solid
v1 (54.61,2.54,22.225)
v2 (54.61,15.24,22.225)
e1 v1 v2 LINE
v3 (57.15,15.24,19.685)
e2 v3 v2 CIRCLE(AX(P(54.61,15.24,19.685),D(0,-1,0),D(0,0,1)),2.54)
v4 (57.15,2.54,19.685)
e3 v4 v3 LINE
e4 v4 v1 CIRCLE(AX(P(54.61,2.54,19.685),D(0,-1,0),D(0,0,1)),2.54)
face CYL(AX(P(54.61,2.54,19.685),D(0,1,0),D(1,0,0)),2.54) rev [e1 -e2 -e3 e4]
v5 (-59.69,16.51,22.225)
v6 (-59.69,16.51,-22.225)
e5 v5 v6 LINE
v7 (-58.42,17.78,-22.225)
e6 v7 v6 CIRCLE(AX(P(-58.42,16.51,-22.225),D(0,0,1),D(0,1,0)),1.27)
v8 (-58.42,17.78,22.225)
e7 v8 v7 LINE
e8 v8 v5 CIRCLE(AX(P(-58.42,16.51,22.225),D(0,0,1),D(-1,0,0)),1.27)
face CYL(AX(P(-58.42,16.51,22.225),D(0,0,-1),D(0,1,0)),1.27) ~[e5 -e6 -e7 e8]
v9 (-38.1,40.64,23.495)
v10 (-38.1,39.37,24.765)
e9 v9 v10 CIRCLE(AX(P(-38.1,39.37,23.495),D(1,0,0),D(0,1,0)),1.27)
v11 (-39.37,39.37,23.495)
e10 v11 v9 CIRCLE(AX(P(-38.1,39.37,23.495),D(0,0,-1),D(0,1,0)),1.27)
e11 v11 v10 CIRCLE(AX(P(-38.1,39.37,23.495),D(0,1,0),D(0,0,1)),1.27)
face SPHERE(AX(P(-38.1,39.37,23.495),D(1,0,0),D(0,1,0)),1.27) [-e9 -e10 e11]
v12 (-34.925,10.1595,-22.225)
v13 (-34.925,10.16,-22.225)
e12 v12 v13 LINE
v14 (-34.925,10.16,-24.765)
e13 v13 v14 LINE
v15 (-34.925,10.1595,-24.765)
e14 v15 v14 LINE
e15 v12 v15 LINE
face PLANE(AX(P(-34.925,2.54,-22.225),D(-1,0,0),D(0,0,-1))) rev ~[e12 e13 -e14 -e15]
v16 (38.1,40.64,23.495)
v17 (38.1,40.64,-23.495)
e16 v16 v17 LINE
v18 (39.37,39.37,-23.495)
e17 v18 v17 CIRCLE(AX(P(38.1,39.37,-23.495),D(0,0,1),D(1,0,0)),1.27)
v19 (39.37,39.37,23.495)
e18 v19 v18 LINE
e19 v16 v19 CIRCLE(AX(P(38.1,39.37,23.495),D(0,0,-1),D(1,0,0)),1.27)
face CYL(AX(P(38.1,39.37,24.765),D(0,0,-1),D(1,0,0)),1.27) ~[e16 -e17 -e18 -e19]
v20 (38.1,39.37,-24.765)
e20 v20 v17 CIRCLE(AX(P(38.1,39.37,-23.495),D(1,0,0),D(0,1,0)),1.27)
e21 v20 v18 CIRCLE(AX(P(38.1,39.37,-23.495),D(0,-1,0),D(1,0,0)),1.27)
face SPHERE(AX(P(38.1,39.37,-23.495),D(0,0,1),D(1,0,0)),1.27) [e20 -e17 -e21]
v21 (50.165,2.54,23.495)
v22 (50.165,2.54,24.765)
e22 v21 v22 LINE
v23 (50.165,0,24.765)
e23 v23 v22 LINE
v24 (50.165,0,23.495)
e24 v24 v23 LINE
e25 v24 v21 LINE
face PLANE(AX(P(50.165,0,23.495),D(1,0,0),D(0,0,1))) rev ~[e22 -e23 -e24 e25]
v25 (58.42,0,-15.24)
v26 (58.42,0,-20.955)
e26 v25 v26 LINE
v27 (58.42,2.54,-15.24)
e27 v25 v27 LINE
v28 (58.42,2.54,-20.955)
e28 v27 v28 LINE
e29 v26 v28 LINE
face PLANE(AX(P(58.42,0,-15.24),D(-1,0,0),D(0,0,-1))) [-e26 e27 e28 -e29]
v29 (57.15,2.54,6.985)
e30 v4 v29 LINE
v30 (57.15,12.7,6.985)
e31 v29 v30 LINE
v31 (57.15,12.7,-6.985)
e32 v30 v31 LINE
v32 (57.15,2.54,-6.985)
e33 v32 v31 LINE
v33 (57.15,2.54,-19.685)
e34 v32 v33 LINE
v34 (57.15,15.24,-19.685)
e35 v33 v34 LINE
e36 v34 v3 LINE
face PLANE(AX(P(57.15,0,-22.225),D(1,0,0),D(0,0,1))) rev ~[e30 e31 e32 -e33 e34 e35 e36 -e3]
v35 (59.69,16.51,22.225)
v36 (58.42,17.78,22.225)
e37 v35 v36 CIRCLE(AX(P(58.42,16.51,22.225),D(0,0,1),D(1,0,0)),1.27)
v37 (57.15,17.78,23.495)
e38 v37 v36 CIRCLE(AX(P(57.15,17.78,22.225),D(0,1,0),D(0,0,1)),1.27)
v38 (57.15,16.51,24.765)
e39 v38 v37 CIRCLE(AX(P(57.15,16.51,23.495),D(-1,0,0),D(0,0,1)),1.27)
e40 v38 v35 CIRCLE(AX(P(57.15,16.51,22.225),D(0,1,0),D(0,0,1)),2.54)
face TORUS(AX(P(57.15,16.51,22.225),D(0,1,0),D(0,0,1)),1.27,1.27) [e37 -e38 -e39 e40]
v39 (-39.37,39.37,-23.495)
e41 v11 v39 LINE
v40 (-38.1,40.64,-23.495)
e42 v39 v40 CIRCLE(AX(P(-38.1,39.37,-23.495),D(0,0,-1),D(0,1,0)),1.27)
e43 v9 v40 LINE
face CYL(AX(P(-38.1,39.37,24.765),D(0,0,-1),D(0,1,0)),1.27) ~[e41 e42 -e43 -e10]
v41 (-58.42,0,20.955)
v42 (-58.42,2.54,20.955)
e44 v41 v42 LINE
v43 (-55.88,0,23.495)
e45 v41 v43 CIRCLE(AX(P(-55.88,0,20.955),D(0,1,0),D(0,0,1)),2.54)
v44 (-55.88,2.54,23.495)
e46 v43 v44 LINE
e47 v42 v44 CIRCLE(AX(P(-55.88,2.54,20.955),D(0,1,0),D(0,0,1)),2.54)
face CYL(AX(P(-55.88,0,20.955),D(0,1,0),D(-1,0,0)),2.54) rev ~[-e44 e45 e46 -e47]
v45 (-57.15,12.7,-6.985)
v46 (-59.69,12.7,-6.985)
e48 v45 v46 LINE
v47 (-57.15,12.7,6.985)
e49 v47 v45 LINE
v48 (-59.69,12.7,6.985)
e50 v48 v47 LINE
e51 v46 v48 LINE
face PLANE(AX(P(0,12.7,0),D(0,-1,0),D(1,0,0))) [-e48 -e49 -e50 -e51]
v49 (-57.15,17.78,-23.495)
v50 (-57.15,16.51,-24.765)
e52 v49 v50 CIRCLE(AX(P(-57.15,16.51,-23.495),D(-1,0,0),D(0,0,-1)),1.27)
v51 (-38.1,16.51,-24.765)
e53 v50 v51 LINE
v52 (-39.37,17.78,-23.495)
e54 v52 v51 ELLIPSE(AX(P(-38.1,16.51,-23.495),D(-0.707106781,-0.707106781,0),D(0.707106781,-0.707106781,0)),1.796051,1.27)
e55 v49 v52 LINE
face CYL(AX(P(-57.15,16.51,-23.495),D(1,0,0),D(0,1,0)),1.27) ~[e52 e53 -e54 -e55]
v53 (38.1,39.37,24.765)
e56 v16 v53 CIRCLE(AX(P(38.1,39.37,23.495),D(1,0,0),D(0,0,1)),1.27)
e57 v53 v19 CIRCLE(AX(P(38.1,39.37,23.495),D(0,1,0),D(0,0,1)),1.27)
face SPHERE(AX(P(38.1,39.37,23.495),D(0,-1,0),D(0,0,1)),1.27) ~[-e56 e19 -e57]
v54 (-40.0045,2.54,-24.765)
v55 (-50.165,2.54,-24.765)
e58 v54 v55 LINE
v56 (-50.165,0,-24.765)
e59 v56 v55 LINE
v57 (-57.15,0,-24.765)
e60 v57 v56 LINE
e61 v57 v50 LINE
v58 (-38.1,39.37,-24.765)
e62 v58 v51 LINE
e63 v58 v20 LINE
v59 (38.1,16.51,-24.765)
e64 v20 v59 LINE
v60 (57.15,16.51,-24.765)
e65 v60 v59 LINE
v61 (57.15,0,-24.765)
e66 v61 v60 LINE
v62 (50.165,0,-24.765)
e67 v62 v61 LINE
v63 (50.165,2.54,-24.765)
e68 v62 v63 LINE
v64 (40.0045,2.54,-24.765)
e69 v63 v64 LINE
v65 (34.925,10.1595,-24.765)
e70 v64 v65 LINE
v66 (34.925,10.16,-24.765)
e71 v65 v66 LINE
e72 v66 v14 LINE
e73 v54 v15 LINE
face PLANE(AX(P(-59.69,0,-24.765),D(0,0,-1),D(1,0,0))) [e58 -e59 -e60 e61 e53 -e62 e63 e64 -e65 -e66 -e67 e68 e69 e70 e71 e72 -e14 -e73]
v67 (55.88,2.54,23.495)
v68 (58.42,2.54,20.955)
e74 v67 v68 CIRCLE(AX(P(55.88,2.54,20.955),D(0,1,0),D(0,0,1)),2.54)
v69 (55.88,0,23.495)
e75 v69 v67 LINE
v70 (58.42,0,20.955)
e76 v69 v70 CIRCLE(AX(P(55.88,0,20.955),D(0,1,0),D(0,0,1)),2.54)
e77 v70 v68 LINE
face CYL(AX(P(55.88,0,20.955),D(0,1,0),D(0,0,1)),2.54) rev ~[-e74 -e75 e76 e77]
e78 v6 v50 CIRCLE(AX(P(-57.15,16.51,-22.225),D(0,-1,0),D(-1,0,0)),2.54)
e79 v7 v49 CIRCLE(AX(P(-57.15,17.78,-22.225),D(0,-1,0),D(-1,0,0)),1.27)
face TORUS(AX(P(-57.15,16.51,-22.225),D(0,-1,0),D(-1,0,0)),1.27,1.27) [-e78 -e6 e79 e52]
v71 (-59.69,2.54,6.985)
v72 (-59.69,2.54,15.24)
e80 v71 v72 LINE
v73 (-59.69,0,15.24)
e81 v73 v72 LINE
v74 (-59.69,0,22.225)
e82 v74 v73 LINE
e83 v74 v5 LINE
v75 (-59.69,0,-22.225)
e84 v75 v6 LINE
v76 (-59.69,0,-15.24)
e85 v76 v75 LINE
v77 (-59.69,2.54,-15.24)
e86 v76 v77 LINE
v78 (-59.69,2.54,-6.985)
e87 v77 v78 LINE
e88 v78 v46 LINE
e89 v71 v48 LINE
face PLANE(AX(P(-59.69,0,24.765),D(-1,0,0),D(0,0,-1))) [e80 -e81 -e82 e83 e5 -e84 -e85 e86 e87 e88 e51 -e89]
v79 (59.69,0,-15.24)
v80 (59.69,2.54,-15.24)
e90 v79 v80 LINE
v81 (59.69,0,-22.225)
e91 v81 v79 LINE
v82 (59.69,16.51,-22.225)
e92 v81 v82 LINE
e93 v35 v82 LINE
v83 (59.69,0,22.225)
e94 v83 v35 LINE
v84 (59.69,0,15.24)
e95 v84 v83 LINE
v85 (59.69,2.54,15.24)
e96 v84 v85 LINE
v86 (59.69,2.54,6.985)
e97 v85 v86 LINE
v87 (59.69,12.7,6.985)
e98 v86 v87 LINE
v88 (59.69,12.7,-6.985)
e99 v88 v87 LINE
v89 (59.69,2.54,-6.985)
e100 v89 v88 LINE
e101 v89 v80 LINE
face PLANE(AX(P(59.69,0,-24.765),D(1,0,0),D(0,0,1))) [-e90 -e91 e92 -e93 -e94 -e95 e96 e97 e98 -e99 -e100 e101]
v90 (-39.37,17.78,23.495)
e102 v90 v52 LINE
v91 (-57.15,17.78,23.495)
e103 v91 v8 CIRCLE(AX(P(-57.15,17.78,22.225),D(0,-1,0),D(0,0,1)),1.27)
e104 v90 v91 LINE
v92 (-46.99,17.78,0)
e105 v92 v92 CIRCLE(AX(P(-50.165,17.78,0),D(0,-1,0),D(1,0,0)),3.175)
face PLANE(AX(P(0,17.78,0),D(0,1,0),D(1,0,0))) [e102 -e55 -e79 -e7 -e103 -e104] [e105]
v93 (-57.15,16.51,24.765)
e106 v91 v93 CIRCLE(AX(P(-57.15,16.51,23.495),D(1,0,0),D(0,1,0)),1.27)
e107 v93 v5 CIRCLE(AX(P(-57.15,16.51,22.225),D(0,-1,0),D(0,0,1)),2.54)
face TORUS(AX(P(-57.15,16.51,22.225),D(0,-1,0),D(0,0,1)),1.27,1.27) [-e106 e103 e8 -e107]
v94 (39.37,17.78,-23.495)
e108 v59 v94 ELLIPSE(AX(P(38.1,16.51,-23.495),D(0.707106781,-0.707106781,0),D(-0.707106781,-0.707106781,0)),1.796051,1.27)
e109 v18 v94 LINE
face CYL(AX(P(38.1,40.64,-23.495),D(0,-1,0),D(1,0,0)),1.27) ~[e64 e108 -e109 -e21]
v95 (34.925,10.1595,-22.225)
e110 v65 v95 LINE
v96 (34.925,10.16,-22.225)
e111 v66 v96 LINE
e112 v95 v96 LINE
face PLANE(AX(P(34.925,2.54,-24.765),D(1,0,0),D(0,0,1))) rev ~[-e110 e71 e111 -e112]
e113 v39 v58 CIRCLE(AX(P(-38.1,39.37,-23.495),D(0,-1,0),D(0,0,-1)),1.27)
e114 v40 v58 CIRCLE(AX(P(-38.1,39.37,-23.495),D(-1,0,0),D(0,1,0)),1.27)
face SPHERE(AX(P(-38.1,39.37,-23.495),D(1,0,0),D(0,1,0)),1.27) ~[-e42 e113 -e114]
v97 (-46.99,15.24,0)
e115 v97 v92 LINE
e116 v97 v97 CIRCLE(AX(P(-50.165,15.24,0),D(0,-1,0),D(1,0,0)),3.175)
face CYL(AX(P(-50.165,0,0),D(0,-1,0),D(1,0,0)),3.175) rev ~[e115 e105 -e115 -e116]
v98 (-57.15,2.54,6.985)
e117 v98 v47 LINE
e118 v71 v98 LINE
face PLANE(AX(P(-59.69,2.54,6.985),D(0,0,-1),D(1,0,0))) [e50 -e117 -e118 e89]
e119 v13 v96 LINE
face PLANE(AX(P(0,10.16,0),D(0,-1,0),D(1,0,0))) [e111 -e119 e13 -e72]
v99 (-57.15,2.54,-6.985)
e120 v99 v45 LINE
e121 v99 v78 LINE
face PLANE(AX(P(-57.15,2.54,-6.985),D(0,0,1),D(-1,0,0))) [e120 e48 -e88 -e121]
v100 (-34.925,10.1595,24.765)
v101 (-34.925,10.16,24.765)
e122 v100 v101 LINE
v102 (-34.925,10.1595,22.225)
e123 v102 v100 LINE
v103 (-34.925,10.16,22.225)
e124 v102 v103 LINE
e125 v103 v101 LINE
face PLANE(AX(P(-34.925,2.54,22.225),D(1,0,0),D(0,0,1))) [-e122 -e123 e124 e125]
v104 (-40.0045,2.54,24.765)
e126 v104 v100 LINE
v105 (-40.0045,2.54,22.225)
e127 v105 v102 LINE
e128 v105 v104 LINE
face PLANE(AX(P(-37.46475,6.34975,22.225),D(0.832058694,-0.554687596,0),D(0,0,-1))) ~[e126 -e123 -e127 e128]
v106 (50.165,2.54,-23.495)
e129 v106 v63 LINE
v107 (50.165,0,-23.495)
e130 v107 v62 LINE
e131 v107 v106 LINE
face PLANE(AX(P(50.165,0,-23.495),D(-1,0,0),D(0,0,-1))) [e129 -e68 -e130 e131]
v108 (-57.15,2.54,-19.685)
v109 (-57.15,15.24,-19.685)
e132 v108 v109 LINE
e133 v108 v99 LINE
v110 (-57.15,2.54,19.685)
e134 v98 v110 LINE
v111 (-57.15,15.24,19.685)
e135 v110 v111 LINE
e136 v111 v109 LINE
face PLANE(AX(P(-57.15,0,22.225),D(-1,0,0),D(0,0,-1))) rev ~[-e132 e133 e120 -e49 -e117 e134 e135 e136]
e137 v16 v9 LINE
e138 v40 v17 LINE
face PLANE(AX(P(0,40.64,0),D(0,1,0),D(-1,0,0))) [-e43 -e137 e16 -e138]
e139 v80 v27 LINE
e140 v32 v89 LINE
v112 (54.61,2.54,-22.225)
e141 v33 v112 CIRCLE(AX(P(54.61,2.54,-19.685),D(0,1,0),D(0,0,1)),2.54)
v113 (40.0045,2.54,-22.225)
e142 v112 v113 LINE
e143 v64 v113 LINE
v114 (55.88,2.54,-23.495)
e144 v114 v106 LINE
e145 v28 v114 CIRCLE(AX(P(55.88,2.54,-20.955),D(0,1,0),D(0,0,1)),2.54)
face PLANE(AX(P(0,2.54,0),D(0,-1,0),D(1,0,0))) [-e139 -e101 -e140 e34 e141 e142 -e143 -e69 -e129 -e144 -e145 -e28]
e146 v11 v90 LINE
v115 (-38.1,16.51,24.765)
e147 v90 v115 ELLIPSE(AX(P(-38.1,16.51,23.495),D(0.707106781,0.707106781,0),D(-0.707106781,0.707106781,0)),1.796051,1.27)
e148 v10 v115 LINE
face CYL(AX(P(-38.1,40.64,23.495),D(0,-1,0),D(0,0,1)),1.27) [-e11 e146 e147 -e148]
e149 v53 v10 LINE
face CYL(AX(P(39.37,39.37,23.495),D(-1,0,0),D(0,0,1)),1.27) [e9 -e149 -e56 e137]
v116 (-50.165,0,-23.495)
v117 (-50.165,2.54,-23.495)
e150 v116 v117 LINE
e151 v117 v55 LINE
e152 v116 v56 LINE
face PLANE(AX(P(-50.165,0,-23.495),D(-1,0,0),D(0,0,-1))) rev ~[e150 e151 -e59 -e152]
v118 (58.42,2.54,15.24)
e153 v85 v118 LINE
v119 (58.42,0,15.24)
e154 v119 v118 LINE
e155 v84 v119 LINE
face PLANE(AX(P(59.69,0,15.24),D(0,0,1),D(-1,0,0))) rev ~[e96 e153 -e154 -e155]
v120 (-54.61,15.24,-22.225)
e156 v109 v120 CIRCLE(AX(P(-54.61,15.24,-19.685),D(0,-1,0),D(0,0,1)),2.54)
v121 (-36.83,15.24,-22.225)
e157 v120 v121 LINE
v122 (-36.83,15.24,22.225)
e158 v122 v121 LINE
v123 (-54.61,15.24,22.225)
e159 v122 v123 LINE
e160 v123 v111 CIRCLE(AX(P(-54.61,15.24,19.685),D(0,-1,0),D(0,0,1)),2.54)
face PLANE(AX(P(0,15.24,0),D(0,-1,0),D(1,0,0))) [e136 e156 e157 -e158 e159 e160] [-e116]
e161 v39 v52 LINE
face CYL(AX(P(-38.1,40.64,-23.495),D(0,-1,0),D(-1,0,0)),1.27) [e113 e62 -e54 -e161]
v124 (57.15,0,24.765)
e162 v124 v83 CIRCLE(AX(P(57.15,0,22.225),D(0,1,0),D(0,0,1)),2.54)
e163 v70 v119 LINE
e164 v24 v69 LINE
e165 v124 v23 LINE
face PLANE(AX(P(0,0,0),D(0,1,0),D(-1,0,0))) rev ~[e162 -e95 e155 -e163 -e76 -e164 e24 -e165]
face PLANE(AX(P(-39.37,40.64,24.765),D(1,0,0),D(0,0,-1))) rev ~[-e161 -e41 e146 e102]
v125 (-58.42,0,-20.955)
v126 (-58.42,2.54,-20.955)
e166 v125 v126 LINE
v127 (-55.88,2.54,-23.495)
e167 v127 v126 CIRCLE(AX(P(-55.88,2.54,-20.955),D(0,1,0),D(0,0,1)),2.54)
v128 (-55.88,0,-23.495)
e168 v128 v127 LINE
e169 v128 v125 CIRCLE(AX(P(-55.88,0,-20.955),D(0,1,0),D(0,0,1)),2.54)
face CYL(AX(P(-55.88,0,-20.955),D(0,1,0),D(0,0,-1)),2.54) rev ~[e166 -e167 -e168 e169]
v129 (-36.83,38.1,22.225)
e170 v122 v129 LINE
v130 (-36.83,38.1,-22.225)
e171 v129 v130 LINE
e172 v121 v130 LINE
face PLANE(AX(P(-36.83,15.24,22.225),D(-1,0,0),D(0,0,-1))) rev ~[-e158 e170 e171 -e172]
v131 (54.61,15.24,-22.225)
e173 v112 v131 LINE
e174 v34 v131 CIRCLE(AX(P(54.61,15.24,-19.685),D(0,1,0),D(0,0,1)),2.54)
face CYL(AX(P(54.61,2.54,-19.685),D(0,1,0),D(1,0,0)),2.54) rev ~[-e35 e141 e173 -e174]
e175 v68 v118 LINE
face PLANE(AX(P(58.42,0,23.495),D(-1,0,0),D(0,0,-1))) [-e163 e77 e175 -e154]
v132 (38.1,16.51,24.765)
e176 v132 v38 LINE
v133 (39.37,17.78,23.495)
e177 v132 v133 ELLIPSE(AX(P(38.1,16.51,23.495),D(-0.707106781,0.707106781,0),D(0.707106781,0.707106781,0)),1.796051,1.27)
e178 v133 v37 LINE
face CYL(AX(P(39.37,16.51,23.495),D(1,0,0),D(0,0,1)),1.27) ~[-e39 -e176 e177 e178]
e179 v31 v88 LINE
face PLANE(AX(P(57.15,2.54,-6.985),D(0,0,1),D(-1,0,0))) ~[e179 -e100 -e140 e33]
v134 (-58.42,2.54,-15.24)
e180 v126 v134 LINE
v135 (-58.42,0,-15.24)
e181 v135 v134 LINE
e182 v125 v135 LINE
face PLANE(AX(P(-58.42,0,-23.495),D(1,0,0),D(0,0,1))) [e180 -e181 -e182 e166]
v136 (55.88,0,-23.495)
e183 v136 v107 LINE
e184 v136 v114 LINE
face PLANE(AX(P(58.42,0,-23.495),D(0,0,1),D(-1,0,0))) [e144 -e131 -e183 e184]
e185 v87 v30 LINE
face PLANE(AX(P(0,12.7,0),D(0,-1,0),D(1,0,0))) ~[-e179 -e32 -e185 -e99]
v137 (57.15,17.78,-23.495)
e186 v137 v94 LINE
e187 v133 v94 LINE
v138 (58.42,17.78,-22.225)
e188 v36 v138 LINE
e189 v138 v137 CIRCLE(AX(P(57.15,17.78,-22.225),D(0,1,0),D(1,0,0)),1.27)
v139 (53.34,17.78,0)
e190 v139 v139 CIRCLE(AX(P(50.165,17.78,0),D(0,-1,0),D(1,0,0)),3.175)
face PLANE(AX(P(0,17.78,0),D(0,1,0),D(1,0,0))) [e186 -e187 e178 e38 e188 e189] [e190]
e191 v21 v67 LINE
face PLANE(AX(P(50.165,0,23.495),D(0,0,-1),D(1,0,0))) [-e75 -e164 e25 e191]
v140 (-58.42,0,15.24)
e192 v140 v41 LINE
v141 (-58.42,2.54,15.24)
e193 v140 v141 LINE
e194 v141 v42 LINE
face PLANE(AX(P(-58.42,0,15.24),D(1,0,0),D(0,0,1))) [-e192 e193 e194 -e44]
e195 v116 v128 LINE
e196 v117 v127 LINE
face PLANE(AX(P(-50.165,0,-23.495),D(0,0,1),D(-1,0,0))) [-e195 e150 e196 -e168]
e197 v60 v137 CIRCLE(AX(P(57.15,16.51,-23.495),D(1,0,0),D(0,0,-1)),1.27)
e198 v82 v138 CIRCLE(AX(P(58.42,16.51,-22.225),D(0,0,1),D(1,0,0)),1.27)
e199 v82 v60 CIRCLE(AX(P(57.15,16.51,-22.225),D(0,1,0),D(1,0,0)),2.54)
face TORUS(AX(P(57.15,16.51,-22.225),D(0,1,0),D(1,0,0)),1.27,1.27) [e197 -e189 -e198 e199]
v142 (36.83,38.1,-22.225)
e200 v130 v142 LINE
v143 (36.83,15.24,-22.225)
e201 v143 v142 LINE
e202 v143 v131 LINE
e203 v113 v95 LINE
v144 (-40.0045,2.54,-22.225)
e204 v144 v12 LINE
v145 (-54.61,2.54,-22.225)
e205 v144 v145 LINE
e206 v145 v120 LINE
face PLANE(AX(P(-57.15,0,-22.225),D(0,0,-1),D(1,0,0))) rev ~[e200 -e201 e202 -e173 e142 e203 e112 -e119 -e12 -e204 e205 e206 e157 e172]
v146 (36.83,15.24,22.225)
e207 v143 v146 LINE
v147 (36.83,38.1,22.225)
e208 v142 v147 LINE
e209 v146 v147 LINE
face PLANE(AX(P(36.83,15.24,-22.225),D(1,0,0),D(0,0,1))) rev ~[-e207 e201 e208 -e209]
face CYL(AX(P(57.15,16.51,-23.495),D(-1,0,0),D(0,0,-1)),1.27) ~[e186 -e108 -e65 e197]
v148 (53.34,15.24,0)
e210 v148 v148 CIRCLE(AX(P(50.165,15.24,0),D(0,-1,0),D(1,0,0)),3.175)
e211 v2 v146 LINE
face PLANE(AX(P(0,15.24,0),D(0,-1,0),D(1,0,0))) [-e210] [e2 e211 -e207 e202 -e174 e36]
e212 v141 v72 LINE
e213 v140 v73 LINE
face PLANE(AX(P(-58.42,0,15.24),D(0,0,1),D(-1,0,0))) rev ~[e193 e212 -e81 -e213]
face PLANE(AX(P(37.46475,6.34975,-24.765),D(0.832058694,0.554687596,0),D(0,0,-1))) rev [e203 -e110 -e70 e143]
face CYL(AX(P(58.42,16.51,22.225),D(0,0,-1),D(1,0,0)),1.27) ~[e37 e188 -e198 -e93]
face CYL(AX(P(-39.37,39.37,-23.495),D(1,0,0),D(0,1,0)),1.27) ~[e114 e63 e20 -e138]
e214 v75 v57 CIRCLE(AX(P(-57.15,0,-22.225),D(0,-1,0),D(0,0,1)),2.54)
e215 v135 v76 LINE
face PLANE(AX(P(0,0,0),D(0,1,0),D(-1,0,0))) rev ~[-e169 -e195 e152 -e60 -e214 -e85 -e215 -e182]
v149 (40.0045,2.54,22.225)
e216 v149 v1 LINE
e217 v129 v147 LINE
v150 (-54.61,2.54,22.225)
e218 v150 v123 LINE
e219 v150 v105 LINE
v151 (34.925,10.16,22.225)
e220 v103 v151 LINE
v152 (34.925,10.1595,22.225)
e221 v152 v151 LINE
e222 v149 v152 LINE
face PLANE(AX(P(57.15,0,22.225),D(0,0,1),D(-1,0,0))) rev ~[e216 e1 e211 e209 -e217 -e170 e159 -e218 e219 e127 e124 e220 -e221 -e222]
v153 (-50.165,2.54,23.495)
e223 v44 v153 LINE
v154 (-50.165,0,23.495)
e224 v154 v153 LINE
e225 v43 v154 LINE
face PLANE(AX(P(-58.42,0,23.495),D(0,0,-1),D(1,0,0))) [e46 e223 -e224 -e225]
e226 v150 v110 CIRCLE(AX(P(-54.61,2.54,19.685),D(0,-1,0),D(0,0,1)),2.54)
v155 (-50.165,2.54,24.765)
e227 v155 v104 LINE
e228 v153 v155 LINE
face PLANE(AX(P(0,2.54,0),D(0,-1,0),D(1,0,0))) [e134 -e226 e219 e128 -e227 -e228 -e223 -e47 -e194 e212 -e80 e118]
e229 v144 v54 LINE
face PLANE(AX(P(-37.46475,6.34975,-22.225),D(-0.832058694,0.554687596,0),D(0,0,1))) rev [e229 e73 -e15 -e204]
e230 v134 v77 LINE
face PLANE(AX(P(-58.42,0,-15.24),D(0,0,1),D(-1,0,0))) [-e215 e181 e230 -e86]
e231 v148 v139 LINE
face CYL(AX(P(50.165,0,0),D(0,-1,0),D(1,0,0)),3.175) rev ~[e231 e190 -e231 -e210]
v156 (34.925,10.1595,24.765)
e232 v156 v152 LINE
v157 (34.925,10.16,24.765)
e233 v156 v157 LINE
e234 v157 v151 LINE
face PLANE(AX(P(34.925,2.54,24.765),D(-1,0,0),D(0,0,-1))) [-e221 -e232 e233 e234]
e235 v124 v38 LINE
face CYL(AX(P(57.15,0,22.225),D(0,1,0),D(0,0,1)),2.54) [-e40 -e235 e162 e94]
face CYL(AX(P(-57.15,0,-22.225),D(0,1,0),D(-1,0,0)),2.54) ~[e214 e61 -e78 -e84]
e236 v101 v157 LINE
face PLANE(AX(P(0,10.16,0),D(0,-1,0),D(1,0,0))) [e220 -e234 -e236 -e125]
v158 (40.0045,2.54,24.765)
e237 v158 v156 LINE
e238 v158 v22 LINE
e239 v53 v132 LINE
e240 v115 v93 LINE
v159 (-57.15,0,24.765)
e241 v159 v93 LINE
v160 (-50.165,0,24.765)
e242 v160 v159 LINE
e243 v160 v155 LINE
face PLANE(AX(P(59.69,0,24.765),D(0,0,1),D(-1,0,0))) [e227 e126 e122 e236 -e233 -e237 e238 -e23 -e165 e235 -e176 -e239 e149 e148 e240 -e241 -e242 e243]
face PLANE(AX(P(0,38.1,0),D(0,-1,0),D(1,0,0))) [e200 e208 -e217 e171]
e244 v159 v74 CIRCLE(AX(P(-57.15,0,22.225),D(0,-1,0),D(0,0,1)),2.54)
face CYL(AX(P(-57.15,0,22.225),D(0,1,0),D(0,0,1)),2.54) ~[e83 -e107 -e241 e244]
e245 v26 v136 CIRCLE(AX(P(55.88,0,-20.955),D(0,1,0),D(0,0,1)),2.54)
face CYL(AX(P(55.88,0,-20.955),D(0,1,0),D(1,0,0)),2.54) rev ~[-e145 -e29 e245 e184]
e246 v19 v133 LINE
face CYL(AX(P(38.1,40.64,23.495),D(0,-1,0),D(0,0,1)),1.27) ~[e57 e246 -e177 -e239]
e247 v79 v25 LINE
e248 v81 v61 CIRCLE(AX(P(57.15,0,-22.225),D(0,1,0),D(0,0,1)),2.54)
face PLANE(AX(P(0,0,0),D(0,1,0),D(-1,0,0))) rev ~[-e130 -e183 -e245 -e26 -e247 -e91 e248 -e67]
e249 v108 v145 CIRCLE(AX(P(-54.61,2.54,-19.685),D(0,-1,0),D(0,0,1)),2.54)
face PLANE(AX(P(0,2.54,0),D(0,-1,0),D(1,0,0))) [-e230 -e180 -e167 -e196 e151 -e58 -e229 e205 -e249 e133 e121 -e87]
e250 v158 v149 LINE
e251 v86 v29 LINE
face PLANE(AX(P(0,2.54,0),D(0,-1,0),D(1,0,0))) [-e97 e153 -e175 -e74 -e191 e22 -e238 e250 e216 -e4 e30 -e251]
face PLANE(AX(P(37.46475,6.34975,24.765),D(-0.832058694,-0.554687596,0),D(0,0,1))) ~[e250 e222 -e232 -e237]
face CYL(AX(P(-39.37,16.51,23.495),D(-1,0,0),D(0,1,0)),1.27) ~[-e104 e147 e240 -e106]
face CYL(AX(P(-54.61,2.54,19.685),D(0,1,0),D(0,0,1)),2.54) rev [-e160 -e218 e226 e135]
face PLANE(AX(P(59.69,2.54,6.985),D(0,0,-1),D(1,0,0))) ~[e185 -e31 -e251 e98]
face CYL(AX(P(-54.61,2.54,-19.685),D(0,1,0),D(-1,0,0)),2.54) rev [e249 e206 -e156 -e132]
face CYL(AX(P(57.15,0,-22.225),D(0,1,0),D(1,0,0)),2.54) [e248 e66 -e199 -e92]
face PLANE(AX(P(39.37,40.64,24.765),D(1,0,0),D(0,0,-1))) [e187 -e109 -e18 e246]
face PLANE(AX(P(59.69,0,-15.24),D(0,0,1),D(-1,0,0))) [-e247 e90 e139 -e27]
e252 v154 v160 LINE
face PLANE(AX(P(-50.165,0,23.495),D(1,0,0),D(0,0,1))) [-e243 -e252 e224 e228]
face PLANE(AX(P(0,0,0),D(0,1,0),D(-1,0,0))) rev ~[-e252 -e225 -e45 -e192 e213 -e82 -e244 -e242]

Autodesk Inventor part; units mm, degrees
ref_plane "YZ Plane" through (0, 0, 0) normal (1, 0, 0) x (0, 1, 0)
ref_plane "XZ Plane" through (0, 0, 0) normal (0, 1, 0) x (-1, 0, 0)
ref_plane "XY Plane" through (0, 0, 0) normal (0, 0, 1) x (1, 0, 0)
sketch "Sketch1" plane through (0, 0, 0) normal (0, 1, 0) x (-1, 0, 0)
  line L0 (-59.69, 24.765) -> (59.69, 24.765)
  line L1 (59.69, 24.765) -> (59.69, -24.765)
  line L2 (59.69, -24.765) -> (-59.69, -24.765)
  line L3 (-59.69, -24.765) -> (-59.69, 24.765)
  point P0 (0, 0)
  dimension "d0" = 119.38
  dimension "d1" = 49.53
  dimension "d2" = 24.765
  dimension "d22" = 59.69
extrude "Extrusion1" add sketch "Sketch1" along normal blind 40.64
sketch "Sketch2" plane through (0, 40.64, 0) normal (0, 1, 0) x (1, 0, 0)
  line L0 (-59.69, -24.765) -> (-39.37, -24.765)
  line L1 (-39.37, -24.765) -> (-39.37, 24.765)
  line L2 (-39.37, 24.765) -> (-59.69, 24.765)
  line L3 (-59.69, 24.765) -> (-59.69, -24.765)
  line L4 (59.69, -24.765) -> (59.69, 24.765) projected
  line L5 (59.69, -24.765) -> (39.37, -24.765)
  line L6 (39.37, -24.765) -> (39.37, 24.765)
  line L7 (39.37, 24.765) -> (59.69, 24.765)
  line L8 (59.69, 24.765) -> (59.69, -24.765)
  point P0 (0, 0)
  point P1 (59.69, 24.765)
  dimension "d6" = 20.32
  dimension "d7" = 20.32
  dimension "d8" = 49.53
  dimension "d9" = 49.53
  dimension "d10" = 78.74
extrude "Extrusion2" cut sketch "Sketch2" against normal blind 22.86
sketch "Sketch3" plane through (0, 0, 0) normal (0, -1, 0) x (1, 0, 0)
  circle A0 centre (50.165, 0) radius 3.175
  circle A1 centre (-50.165, 0) radius 3.175
  line L0 (-59.69, -24.765) -> (-59.69, 24.765) projected
  line L1 (59.69, 24.765) -> (59.69, -24.765) projected
  point P0 (0, 0)
  dimension "d13" = 6.35
  dimension "d14" = 6.35
  dimension "d15" = 6.35
extrude "Extrusion3" cut sketch "Sketch3" against normal blind 22.86
sketch "Sketch4" plane through (0, 0, 0) normal (0, -1, 0) x (1, 0, 0)
  line L0 (-57.15, -22.225) -> (57.15, -22.225)
  line L1 (57.15, -22.225) -> (57.15, 22.225)
  line L2 (57.15, 22.225) -> (-57.15, 22.225)
  line L3 (-57.15, 22.225) -> (-57.15, -22.225)
  line L4 (-59.69, -24.765) -> (-59.69, 24.765) projected
  line L5 (59.69, 24.765) -> (59.69, -24.765) projected
  line L6 (-59.69, 24.765) -> (59.69, 24.765) projected
  line L7 (59.69, -24.765) -> (-59.69, -24.765) projected
  point P0 (0, 0)
  dimension "d18" = 2.54
  dimension "d19" = 2.54
  dimension "d20" = 2.54
  dimension "d21" = 2.54
extrude "Extrusion4" cut sketch "Sketch4" against normal blind 15.24 contours L3 L2 L1 L0
sketch "Sketch5" plane through (0, 15.24, 0) normal (0, -1, 0) x (1, 0, 0)
  line L0 (-57.15, 22.225) -> (57.15, 22.225) projected
  line L1 (-36.83, -22.225) -> (36.83, -22.225)
  line L2 (36.83, -22.225) -> (36.83, 22.225)
  line L3 (36.83, 22.225) -> (-36.83, 22.225)
  line L4 (-36.83, 22.225) -> (-36.83, -22.225)
  line L5 (-36.83, -22.225) -> (36.83, 22.225) construction
  line L6 (36.83, -22.225) -> (-36.83, 22.225) construction
  point P0 (0, 0)
  dimension "d25" = 73.66
extrude "Extrusion5" cut sketch "Sketch5" against normal blind 22.86
sketch "Sketch6" plane through (0, 0, 0) normal (0, -1, 0) x (1, 0, 0)
  line L0 (58.42, -23.495) -> (-58.42, 23.495) construction
  line L1 (-58.42, -23.495) -> (58.42, 23.495) construction
  line L2 (-59.69, -24.765) -> (-59.69, 24.765) projected
  line L3 (-59.69, 24.765) -> (59.69, 24.765) projected
  line L4 (50.165, 23.495) -> (50.165, 24.765)
  line L5 (-50.165, 23.495) -> (-50.165, 24.765)
  line L6 (-58.42, 15.24) -> (-59.69, 15.24)
  line L7 (-58.42, -15.24) -> (-59.69, -15.24)
  line L8 (-50.165, -23.495) -> (-50.165, -24.765)
  line L9 (50.165, -23.495) -> (50.165, -24.765)
  line L10 (59.69, -24.765) -> (-59.69, -24.765) projected
  line L11 (59.69, 24.765) -> (59.69, -24.765) projected
  line L12 (59.69, -15.24) -> (58.42, -15.24)
  line L13 (59.69, 15.24) -> (58.42, 15.24)
  line L14 (-50.165, 24.765) -> (50.165, 24.765)
  line L15 (59.69, -15.24) -> (59.69, 15.24)
  line L16 (50.165, -24.765) -> (-50.165, -24.765)
  line L17 (-59.69, -15.24) -> (-59.69, 15.24)
  line L18 (-57.15, -22.225) -> (-57.15, 22.225) projected
  line L19 (57.15, 22.225) -> (-57.15, 22.225)
  line L20 (-57.15, 22.225) -> (-57.15, -22.225)
  line L21 (-57.15, -22.225) -> (57.15, -22.225)
  line L22 (57.15, -22.225) -> (57.15, 22.225)
  line L23 (57.15, 22.225) -> (-57.15, -22.225) construction
  line L24 (-57.15, 22.225) -> (57.15, -22.225) construction
  line L25 (-58.42, -23.495) -> (-58.42, -15.24)
  line L26 (-58.42, 15.24) -> (-58.42, 23.495)
  line L27 (-58.42, 23.495) -> (-50.165, 23.495)
  line L28 (50.165, 23.495) -> (58.42, 23.495)
  line L29 (58.42, 23.495) -> (58.42, 15.24)
  line L30 (58.42, -15.24) -> (58.42, -23.495)
  line L31 (58.42, -23.495) -> (50.165, -23.495)
  line L32 (-50.165, -23.495) -> (-58.42, -23.495)
  point P0 (0, 0)
  point P1 (-59.055, 15.24)
  point P2 (-59.055, -15.24)
  dimension "d30" = 100.33
  dimension "d31" = 50.165
  dimension "d32" = 30.48
  dimension "d33" = 15.24
  dimension "d34" = 30.48
  dimension "d35" = 15.24
  dimension "d40" = 100.33
  dimension "d41" = 50.165
extrude "Extrusion6" cut sketch "Sketch6" against normal blind 2.54 contours L2 L6 L26 L27 L5 L3 L4 L28 L29 L13 L11 L12 L30 L31 L9 L10 L8 L32 L25 L7 | L18 L19 L22 L21
sketch "Sketch7" plane through (0, 2.54, 0) normal (0, -1, 0) x (1, 0, 0)
  line L0 (-36.83, 22.225) -> (36.83, 22.225) projected
  line L1 (-39.37, 24.765) -> (39.37, 24.765) projected
  line L2 (34.925, 22.225) -> (-34.925, 22.225)
  line L3 (-34.925, 22.225) -> (-34.925, 24.765)
  line L4 (-34.925, 24.765) -> (34.925, 24.765)
  line L5 (34.925, 24.765) -> (34.925, 22.225)
  line L6 (50.165, -24.765) -> (-50.165, -24.765) projected
  line L7 (-57.15, -22.225) -> (57.15, -22.225) projected
  line L8 (-34.925, -24.765) -> (34.925, -24.765)
  line L9 (34.925, -24.765) -> (34.925, -22.225)
  line L10 (34.925, -22.225) -> (-34.925, -22.225)
  line L11 (-34.925, -22.225) -> (-34.925, -24.765)
  point P0 (0, 0)
  dimension "d42" = 69.85
  dimension "d43" = 34.925
  dimension "d44" = 69.85
  dimension "d45" = 34.925
extrude "Extrusion7" cut sketch "Sketch7" against normal blind 7.62
sketch "Sketch8" plane through (0, 2.54, 0) normal (0, -1, 0) x (1, 0, 0)
  line L0 (-57.15, 22.225) -> (-57.15, -22.225) projected
  line L1 (-59.69, -15.24) -> (-59.69, 15.24) projected
  line L2 (-57.15, -6.985) -> (-59.69, -6.985)
  line L3 (-59.69, -6.985) -> (-59.69, 6.985)
  line L4 (-59.69, 6.985) -> (-57.15, 6.985)
  line L5 (-57.15, 6.985) -> (-57.15, -6.985)
  point P0 (0, 0)
  dimension "d48" = 13.97
  dimension "d49" = 6.985
extrude "Extrusion8" cut sketch "Sketch8" against normal blind 10.16
mirror "Mirror1" about plane through (0, 0, 0) normal (1, 0, 0) of "Extrusion8"
fillet "Fillet1" radius 2.54 12 edges at (57.15, 8.89, 22.225) (58.42, 1.27, 23.495) (-58.42, 1.27, 23.495) (-57.15, 8.89, 22.225) (-58.42, 1.27, -23.495) (-57.15, 8.89, -22.225) (57.15, 8.89, -22.225) (58.42, 1.27, -23.495) (-59.69, 8.89, 24.765) (59.69, 8.89, 24.765) (-59.69, 8.89, -24.765) (59.69, 8.89, -24.765)
fillet "Fillet2" radius 1.27 18 edges at (-58.9461, 17.78, 24.0211) (-59.69, 17.78, 0) (-58.9461, 17.78, -24.0211) (-48.26, 17.78, -24.765) (-48.26, 17.78, 24.765) (58.9461, 17.78, 24.0211) (59.69, 17.78, 0) (58.9461, 17.78, -24.0211) (48.26, 17.78, -24.765) (48.26, 17.78, 24.765) (39.37, 29.21, 24.765) (0, 40.64, 24.765) (39.37, 40.64, 0) (39.37, 29.21, -24.765) (0, 40.64, -24.765) (-39.37, 40.64, 0) (-39.37, 29.21, 24.765) (-39.37, 29.21, -24.765)
chamfer "Chamfer1" distance 5.08 distance2 7.62 1 edges at (-34.925, 2.54, 23.495) measured on face at (-40.005, 2.54, 23.495)
chamfer "Chamfer2" distance 5.08 distance2 7.62 1 edges at (34.925, 2.54, 23.495) measured on face at (40.005, 2.54, 23.495)
chamfer "Chamfer3" distance 5.08 distance2 7.62 1 edges at (34.925, 2.54, -23.495) measured on face at (40.005, 2.54, -23.495)
chamfer "Chamfer4" distance 5.08 distance2 7.62 1 edges at (-34.925, 2.54, -23.495) measured on face at (-40.005, 2.54, -23.495)
properties part number "CO-1-01-12VoltFuseBox"
